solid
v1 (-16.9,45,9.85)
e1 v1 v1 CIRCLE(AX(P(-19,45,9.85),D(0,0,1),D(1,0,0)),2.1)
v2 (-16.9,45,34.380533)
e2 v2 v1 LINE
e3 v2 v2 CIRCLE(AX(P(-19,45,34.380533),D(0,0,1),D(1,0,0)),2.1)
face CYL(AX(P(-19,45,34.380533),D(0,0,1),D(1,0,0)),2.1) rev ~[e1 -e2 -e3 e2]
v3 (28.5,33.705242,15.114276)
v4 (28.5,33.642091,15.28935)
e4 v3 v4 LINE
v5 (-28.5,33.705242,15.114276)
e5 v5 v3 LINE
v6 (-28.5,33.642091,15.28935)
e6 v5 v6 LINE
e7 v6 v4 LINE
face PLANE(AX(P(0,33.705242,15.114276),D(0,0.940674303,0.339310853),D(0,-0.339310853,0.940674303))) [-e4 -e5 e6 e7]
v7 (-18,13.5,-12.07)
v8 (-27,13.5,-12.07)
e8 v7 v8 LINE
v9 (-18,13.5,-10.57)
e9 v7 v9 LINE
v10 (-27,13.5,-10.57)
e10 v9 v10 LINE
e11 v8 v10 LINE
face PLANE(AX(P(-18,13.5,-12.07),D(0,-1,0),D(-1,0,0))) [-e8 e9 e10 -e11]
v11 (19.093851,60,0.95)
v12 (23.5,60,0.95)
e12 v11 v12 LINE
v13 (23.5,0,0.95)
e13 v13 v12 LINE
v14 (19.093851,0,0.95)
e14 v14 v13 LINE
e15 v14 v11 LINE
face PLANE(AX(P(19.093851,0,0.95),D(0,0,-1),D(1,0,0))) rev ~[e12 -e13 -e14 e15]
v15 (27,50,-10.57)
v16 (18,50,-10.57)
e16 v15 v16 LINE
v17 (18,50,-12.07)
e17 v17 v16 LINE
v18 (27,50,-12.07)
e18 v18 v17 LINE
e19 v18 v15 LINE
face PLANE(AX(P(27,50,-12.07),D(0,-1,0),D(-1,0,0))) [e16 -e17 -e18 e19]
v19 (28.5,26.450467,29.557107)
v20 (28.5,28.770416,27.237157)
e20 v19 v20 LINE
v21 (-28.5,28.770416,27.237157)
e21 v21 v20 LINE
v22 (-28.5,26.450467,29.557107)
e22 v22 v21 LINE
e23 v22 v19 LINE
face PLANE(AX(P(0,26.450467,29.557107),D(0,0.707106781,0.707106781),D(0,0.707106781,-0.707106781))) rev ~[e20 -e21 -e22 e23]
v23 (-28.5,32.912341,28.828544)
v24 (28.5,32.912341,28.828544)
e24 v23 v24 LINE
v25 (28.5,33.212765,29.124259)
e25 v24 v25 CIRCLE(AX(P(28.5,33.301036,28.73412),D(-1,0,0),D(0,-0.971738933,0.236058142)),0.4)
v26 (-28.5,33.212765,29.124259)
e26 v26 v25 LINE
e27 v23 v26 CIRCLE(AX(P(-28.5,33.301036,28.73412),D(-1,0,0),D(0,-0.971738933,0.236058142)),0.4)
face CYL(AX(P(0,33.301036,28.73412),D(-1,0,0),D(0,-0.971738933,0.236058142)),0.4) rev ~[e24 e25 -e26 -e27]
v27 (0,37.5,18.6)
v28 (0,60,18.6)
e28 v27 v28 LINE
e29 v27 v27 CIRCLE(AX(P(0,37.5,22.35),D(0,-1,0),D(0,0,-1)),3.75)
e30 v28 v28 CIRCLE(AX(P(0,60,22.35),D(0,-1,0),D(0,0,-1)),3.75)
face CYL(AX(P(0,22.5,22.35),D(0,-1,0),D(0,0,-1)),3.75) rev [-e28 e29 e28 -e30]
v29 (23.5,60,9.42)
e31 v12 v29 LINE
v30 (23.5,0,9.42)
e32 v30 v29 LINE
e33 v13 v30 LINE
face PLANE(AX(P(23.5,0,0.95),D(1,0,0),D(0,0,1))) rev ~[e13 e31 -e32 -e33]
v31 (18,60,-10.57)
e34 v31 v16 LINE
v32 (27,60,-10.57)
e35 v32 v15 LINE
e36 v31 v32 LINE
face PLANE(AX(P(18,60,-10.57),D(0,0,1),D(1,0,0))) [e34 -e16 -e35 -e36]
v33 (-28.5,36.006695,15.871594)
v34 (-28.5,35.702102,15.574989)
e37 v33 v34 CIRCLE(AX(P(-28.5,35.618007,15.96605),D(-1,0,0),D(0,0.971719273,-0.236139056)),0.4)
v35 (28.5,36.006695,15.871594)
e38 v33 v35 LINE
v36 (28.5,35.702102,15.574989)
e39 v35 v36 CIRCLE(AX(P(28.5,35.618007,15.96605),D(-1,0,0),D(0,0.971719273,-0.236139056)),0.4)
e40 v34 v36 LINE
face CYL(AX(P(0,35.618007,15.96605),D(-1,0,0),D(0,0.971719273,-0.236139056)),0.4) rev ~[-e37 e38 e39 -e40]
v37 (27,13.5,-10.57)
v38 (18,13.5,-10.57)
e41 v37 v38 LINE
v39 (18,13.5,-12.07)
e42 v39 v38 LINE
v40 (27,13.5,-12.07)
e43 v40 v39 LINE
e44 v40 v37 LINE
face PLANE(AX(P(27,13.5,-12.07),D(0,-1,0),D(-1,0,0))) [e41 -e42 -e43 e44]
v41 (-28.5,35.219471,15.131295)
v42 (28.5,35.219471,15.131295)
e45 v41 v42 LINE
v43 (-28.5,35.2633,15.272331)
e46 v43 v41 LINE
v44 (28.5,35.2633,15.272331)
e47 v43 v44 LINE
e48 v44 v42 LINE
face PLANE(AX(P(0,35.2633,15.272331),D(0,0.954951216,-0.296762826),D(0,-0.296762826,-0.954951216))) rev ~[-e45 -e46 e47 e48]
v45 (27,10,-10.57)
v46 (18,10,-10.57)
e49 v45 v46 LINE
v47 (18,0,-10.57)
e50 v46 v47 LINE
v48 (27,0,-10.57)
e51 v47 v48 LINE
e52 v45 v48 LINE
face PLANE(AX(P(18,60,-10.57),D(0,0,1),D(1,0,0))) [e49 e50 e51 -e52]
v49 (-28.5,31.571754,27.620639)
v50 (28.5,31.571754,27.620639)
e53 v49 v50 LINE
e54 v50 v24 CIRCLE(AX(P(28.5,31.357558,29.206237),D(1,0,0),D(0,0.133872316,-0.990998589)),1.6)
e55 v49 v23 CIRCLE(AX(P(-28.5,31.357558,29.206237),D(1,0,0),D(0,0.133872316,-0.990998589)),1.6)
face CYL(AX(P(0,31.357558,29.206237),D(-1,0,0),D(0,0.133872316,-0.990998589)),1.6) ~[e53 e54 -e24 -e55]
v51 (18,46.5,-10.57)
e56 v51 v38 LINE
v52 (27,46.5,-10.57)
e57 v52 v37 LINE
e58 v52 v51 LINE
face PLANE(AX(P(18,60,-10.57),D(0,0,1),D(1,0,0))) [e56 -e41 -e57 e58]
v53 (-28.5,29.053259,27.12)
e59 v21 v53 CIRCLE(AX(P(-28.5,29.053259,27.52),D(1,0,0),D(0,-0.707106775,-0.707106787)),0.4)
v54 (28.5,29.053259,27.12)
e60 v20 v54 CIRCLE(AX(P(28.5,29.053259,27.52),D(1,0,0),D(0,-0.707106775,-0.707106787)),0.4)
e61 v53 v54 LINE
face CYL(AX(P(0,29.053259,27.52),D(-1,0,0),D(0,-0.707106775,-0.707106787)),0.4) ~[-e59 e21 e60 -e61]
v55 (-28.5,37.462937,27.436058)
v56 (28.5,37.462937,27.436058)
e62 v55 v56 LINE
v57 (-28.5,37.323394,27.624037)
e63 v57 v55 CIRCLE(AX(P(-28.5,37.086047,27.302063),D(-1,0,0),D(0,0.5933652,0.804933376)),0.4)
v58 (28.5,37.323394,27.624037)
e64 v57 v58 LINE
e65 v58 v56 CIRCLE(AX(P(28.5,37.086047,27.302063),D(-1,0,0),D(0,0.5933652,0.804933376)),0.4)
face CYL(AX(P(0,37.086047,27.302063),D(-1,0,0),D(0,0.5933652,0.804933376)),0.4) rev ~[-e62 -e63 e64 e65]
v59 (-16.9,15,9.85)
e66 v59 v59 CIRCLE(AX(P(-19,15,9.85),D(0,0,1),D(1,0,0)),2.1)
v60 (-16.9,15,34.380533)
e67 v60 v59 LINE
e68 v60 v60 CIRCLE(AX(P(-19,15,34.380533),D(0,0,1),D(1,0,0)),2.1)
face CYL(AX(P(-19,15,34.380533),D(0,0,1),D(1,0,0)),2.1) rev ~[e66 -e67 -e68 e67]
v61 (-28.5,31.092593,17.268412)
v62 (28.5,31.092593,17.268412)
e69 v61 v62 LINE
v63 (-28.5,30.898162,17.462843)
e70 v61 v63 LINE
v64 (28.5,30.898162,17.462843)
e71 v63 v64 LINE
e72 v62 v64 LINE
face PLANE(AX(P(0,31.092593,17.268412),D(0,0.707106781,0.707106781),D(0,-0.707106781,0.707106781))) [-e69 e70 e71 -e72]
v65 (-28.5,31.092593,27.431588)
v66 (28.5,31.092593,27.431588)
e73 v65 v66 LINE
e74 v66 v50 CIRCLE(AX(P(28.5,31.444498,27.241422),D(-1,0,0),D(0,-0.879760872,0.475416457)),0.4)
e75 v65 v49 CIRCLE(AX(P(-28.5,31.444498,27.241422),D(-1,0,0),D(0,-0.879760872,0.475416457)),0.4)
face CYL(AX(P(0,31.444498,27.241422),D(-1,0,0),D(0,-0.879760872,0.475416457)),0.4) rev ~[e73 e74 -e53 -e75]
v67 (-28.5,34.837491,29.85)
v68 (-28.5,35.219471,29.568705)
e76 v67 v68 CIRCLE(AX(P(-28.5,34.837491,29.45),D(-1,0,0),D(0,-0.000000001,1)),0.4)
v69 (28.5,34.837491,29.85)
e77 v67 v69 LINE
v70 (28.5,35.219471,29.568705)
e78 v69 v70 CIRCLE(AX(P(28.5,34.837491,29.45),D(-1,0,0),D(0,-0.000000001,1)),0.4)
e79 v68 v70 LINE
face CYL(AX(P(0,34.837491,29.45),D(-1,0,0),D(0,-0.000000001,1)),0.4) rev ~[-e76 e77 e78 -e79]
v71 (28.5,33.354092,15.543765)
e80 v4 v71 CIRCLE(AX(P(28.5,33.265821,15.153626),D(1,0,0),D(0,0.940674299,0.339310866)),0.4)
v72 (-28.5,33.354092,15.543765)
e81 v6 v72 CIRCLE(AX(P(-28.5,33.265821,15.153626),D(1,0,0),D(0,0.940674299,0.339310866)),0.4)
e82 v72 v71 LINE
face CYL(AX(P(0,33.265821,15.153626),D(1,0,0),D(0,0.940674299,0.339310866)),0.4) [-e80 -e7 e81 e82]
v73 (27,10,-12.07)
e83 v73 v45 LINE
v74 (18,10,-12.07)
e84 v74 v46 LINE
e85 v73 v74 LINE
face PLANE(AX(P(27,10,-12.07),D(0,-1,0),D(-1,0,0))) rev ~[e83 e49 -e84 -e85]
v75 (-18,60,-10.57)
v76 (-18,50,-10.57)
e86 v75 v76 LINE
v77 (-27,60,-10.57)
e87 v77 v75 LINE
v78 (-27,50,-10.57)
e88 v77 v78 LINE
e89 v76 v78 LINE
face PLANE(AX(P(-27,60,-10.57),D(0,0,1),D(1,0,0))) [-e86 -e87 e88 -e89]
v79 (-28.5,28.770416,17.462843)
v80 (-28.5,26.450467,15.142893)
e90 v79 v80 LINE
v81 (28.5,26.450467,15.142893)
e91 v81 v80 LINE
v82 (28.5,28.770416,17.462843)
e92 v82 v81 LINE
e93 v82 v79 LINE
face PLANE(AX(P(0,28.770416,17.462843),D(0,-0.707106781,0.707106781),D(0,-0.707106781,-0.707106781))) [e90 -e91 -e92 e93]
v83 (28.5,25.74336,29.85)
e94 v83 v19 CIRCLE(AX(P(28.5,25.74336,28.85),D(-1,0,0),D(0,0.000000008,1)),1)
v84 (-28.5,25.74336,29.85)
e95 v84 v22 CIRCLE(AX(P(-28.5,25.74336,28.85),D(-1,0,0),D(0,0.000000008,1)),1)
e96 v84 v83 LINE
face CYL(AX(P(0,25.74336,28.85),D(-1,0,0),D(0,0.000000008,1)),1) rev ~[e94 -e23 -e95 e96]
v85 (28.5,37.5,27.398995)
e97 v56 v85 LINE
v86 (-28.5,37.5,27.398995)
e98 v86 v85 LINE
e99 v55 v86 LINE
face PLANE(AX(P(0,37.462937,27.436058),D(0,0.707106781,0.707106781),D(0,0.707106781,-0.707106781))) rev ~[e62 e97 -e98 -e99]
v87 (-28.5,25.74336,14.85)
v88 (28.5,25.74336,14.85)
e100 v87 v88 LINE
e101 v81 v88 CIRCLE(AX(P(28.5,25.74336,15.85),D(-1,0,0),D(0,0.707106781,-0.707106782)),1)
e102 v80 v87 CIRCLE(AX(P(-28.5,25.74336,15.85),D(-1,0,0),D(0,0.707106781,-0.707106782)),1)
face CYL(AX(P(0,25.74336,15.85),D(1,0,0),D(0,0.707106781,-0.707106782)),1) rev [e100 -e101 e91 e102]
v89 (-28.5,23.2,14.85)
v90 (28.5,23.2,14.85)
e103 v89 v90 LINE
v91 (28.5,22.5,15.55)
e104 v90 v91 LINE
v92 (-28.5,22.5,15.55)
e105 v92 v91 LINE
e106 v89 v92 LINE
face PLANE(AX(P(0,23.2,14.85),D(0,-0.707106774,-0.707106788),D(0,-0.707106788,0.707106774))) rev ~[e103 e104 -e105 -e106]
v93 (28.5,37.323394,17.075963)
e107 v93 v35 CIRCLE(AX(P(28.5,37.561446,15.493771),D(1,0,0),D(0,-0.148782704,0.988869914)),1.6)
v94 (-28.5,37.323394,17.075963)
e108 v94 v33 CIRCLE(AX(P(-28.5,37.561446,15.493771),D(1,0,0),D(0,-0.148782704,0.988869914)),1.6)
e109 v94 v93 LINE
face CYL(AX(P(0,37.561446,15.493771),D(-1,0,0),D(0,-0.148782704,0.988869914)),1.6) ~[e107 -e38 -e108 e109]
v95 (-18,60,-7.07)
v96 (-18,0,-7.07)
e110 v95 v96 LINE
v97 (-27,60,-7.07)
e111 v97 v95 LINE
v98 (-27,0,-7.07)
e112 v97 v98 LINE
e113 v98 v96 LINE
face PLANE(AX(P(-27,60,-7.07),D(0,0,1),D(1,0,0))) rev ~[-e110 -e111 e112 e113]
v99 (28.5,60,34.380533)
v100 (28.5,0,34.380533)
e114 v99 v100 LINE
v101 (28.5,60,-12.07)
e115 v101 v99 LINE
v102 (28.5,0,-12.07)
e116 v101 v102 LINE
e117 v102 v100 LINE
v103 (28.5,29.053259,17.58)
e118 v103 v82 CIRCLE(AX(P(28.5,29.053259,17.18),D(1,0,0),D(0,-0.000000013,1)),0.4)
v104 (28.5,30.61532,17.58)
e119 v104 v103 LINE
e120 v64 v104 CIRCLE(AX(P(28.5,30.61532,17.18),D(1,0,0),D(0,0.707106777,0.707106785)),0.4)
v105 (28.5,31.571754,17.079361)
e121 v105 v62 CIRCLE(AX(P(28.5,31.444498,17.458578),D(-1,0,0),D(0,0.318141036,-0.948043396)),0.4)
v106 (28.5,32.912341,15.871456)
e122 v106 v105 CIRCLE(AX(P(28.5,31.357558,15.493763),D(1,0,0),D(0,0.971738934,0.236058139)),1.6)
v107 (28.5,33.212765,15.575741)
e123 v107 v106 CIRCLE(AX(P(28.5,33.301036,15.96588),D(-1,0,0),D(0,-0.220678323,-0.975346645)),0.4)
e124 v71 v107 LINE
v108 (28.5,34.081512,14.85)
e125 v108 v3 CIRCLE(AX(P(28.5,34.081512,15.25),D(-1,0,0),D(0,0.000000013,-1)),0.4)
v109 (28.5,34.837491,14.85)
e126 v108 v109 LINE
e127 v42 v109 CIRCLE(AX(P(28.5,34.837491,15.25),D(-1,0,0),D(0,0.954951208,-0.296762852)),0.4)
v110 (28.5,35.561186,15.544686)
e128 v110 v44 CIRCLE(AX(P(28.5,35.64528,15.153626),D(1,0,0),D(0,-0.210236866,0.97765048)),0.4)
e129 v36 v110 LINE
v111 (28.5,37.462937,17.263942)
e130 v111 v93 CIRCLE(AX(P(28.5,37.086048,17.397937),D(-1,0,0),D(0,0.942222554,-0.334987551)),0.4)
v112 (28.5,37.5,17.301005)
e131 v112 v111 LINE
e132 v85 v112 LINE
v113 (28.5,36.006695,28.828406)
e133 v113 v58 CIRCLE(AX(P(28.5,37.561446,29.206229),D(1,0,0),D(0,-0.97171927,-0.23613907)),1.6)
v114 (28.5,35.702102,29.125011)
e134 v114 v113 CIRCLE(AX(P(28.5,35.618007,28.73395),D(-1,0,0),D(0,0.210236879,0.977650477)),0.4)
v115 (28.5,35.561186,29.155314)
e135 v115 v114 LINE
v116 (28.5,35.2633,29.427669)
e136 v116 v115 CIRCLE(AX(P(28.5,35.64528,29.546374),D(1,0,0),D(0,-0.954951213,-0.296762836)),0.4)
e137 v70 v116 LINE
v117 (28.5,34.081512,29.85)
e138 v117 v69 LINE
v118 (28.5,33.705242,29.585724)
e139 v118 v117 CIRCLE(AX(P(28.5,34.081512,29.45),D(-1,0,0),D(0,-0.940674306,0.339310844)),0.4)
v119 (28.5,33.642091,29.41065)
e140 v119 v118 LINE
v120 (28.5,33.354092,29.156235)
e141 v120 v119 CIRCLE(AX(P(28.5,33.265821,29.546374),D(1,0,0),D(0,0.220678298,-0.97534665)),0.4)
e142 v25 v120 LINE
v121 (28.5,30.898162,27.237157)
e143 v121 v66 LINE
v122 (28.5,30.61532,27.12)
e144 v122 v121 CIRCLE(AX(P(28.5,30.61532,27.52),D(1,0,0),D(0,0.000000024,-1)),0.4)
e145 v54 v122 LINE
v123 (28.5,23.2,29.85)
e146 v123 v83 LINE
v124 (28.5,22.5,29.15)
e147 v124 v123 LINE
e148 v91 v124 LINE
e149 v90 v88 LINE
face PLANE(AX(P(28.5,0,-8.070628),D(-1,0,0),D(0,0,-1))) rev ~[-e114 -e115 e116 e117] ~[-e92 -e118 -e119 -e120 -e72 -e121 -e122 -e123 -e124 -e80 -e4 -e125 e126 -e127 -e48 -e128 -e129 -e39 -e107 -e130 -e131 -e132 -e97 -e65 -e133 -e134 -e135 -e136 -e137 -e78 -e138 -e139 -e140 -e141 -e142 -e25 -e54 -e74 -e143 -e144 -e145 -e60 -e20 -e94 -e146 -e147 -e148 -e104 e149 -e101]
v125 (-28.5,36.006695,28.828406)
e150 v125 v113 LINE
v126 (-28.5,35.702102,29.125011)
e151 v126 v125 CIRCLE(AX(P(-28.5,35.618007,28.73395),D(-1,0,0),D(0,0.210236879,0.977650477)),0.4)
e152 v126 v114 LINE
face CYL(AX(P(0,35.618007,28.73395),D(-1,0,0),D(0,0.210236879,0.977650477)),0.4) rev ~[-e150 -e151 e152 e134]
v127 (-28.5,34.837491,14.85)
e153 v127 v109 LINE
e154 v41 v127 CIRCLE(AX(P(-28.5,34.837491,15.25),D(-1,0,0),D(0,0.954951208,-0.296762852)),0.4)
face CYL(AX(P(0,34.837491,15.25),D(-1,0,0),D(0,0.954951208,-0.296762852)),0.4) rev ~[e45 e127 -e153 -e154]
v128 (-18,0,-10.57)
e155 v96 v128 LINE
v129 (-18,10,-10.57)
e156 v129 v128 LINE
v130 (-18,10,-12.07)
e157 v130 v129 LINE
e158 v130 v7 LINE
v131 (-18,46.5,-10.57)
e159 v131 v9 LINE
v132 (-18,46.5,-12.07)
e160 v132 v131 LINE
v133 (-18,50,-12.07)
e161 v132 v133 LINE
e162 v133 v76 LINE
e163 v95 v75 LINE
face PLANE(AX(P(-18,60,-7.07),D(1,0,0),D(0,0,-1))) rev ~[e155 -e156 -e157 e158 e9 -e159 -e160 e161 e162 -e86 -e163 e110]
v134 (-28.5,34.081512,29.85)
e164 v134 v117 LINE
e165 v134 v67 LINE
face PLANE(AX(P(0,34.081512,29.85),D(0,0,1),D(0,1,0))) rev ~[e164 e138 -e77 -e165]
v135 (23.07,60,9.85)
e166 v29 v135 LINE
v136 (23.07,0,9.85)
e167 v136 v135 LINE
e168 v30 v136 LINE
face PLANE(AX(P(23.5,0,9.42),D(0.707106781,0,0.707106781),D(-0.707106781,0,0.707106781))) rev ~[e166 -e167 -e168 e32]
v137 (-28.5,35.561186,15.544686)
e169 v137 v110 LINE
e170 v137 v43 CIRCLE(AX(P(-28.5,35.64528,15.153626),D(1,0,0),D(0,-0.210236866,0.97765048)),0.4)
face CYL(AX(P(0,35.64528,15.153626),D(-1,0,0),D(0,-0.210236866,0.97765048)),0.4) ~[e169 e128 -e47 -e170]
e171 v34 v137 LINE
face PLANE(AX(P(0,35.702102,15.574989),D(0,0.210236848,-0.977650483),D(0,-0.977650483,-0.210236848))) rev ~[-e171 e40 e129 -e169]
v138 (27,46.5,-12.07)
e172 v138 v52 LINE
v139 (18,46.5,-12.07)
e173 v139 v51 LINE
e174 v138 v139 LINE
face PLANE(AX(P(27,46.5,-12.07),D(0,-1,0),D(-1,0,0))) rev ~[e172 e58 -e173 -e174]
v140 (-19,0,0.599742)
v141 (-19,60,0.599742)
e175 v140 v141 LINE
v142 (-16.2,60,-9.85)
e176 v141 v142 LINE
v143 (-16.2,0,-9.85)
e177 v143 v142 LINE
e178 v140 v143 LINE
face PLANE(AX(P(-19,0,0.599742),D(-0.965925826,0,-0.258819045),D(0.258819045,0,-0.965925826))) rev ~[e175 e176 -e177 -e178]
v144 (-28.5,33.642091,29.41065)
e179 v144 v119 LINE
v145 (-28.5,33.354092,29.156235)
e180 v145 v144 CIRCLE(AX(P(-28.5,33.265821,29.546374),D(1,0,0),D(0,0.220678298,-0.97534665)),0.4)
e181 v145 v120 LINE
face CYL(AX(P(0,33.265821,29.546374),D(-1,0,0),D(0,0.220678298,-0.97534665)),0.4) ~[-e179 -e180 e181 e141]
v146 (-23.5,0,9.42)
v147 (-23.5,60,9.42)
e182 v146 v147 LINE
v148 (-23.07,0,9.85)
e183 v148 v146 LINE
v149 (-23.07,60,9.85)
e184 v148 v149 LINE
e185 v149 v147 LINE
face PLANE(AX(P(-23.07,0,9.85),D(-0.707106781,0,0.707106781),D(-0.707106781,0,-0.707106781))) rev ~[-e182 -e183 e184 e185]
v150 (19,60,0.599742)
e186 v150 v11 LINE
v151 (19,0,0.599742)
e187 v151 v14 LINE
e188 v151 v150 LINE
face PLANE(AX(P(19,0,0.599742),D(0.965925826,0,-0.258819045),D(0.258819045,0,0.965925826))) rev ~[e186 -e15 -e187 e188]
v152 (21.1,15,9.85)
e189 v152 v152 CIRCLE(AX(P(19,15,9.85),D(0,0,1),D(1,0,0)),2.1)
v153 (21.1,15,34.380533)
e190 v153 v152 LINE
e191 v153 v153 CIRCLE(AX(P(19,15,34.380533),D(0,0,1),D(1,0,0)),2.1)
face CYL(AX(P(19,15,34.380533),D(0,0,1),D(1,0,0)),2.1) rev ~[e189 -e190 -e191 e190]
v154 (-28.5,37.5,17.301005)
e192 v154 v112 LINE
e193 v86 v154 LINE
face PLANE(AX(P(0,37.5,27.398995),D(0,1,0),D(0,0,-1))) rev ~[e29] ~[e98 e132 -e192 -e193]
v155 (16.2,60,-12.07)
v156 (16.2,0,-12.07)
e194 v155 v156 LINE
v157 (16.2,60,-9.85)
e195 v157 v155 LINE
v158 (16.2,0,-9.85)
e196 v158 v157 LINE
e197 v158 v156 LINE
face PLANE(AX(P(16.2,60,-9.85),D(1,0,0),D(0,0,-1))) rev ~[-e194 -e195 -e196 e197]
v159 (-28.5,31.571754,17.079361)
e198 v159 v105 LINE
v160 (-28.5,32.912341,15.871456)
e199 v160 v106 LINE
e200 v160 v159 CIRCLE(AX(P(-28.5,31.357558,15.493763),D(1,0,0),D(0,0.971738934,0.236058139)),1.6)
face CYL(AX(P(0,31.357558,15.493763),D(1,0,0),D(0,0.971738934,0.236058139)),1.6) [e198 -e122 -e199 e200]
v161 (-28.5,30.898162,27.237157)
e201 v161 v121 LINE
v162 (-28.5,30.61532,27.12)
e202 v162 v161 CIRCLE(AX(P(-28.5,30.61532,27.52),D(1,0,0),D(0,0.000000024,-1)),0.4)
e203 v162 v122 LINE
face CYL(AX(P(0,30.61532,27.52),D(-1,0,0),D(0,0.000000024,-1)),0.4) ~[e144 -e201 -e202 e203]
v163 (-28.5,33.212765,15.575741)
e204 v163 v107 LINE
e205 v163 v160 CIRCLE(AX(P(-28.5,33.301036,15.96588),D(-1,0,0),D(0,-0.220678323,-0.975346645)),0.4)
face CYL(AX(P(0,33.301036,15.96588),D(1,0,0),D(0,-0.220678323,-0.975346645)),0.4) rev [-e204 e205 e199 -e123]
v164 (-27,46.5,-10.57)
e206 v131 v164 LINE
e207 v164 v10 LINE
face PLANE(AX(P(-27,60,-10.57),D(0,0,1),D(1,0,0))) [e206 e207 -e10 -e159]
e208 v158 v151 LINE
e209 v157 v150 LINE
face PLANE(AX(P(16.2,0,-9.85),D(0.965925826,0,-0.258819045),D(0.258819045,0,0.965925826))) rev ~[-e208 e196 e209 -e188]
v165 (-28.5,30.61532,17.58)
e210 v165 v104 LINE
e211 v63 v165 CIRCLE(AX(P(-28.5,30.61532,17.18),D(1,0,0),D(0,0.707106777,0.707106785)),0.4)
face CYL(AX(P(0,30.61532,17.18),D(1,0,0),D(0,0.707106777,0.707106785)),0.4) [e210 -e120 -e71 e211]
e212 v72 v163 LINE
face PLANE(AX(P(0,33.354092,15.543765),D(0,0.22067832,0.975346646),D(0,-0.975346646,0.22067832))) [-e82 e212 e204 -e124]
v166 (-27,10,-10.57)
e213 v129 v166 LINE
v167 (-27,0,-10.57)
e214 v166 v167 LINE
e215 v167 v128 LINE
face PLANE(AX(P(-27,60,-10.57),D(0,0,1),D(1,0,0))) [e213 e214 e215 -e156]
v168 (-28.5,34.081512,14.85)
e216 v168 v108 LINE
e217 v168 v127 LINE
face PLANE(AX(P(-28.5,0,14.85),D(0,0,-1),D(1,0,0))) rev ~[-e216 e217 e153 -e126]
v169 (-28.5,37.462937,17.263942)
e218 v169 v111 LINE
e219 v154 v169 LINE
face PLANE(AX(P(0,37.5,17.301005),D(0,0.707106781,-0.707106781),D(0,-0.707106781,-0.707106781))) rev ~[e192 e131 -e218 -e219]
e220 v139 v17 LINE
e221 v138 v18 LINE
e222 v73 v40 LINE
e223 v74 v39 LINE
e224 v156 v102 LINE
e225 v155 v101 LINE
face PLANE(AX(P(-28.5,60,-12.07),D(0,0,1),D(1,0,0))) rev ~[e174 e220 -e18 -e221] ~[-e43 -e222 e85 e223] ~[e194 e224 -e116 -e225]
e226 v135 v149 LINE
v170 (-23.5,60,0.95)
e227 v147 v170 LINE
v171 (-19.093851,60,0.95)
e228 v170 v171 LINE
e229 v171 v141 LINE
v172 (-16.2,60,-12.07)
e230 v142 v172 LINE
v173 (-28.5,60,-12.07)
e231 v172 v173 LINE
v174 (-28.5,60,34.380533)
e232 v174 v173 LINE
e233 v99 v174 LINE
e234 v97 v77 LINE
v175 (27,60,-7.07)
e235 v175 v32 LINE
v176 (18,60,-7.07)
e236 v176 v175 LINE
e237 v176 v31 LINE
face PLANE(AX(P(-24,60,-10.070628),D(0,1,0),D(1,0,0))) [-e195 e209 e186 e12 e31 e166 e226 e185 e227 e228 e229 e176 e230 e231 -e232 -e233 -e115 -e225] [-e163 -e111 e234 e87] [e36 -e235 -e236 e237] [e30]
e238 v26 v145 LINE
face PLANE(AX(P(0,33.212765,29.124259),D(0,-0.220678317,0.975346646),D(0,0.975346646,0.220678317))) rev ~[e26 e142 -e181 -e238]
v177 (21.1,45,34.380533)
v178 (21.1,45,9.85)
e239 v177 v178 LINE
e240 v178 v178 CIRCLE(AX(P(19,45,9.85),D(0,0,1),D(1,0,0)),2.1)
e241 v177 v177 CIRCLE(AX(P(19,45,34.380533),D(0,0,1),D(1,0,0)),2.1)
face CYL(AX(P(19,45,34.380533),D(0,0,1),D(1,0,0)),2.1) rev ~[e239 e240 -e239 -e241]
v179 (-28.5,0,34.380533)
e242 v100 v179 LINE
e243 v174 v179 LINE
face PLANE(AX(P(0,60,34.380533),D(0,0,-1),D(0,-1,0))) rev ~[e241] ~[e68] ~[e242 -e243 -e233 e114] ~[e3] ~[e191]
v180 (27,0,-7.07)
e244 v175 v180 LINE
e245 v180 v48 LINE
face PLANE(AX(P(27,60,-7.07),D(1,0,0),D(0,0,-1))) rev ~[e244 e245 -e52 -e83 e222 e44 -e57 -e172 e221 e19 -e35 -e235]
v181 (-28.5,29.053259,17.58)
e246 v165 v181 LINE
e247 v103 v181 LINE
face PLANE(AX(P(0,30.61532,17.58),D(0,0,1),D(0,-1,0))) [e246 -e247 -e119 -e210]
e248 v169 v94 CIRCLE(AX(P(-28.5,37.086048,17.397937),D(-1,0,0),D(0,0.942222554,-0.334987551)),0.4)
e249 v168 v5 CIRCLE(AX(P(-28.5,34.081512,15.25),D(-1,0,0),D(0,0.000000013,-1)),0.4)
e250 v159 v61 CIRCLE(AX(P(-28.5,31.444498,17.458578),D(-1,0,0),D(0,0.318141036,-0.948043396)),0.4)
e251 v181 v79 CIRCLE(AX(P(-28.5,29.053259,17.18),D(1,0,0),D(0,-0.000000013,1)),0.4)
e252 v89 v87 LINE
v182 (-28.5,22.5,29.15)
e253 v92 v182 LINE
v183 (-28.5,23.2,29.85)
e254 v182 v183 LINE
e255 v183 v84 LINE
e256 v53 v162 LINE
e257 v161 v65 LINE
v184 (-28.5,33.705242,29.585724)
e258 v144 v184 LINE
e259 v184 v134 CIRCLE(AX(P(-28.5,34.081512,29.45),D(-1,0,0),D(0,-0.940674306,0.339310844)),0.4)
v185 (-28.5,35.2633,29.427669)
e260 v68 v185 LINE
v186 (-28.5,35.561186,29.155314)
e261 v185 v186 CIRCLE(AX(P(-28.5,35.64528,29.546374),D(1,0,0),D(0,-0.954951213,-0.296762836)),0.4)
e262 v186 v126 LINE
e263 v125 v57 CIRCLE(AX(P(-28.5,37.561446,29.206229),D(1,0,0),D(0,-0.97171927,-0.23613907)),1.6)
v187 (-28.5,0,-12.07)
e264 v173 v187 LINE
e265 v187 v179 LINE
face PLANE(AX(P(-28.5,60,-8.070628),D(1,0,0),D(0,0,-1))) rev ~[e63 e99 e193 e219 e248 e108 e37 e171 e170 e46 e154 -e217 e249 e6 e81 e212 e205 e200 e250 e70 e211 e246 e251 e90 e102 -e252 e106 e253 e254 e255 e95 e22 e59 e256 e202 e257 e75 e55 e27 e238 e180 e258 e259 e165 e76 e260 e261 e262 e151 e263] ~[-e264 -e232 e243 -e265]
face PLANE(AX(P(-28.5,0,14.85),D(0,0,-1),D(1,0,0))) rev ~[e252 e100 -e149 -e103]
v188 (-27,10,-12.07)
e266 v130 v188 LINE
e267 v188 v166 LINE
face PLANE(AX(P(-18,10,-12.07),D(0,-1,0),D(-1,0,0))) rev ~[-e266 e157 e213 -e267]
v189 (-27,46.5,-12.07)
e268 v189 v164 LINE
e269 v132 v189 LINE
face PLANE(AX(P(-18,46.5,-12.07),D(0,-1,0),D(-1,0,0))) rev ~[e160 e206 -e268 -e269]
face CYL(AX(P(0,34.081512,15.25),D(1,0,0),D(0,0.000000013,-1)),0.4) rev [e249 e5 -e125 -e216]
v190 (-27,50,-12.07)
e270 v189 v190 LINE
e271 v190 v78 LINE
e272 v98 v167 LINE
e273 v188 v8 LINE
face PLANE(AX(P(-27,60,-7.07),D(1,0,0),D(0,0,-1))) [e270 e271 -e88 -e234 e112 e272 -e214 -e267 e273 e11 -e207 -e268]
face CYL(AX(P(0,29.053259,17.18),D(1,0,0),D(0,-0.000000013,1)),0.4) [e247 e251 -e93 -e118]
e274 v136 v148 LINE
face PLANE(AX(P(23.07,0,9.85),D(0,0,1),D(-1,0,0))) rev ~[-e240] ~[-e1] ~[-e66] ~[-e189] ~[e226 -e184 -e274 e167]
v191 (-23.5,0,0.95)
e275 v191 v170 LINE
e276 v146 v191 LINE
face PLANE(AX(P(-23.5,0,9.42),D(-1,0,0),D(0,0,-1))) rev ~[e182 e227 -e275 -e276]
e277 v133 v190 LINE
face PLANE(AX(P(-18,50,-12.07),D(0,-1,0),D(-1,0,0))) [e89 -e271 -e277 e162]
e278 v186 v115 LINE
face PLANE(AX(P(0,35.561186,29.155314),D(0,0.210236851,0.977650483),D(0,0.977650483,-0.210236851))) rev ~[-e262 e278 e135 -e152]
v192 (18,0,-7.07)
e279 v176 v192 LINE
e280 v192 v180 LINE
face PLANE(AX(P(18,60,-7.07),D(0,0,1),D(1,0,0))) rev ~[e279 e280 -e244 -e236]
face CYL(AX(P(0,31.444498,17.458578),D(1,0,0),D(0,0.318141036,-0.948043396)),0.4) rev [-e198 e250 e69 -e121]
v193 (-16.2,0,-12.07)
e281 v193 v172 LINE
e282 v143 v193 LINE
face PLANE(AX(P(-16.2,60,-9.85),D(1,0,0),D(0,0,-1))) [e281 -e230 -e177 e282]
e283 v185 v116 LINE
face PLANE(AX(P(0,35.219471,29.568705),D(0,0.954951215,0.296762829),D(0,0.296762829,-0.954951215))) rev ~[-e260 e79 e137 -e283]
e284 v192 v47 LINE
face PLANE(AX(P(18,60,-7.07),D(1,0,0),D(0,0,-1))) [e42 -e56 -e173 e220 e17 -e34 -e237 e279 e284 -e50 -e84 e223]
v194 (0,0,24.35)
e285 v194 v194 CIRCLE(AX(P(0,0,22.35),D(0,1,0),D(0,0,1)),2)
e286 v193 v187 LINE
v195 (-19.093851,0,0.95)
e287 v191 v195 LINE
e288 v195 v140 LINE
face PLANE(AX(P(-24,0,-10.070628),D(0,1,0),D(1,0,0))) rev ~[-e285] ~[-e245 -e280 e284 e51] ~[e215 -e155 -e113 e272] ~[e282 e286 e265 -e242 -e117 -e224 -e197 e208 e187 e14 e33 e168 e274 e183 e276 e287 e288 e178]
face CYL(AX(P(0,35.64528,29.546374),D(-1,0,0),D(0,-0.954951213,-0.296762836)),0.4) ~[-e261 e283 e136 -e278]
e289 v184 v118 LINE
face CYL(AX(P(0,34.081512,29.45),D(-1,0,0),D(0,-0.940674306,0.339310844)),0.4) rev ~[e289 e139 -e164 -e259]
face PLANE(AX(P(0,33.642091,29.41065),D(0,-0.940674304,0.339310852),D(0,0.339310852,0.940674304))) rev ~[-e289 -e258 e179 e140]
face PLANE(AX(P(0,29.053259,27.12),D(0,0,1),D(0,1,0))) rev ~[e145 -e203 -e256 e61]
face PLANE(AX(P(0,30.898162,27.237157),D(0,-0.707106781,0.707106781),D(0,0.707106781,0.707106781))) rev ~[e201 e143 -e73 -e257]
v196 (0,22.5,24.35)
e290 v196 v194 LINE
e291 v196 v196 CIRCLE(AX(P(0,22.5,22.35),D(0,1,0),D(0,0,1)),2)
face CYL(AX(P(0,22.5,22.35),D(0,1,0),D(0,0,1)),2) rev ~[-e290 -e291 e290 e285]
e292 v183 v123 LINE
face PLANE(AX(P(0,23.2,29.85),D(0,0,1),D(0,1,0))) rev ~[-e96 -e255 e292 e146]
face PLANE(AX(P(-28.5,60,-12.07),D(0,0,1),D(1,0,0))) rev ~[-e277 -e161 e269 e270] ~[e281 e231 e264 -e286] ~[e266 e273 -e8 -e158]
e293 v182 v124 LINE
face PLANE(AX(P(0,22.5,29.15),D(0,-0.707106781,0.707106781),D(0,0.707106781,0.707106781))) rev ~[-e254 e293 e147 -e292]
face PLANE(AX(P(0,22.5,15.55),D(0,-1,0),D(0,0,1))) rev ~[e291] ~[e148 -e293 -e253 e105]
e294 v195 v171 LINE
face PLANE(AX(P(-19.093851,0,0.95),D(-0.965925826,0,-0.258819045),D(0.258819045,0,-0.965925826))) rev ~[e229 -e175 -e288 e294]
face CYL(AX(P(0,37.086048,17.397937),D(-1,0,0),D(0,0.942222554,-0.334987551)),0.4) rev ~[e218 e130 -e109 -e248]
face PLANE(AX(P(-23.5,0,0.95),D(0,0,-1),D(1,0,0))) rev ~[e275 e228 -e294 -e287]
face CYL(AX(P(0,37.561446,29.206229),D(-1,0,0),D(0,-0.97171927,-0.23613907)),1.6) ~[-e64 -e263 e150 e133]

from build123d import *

# Parameters (mm, degrees)
SKETCH1_W           = 57
SKETCH1_H           = 28.7
BOSS_EXTRUDE1_DEPTH = 60
SKETCH2_W           = 9
SKETCH2_H           = 4
CUT_EXTRUDE1_DEPTH  = 69.064473112
BOSS_EXTRUDE2_DEPTH = 28.5
SKETCH6_W           = 15.5
SKETCH6_H           = 15.390476131
CUT_EXTRUDE2_DEPTH  = 80
BOSS_EXTRUDE5_DEPTH = 60
SKETCH10_R          = 2.1
CUT_EXTRUDE3_DEPTH  = 24.530533394
SKETCH11_W          = 61.984050455
SKETCH11_H          = 43.227353824
SKETCH11_W_2        = 6
SKETCH11_H_2        = 2.542732203
CUT_EXTRUDE4_DEPTH  = 77.839254789
SKETCH13_W          = 6.011053281
SKETCH13_H          = 2.620549071
CUT_EXTRUDE5_DEPTH  = 77.839254789
SKETCH14_W          = 9
SKETCH14_H          = 4
BOSS_EXTRUDE7_DEPTH = 60
SKETCH12_W          = 10.230058637
SKETCH12_H          = 6.686923691
BOSS_EXTRUDE6_DEPTH = 60
SKETCH15_W          = 9
SKETCH15_H          = 4
BOSS_EXTRUDE8_DEPTH = 60
SKETCH16_W          = 9
SKETCH16_H          = 1.78
CUT_EXTRUDE6_DEPTH  = 77.839254789
SKETCH17_W          = 25.75
SKETCH17_H          = 20.1006285
CUT_EXTRUDE7_DEPTH  = 77.839254789
SKETCH18_W          = 32.4
SKETCH18_H          = 12.613288226
CUT_EXTRUDE8_DEPTH  = 75.79485996
SKETCH19_W          = 57
SKETCH19_H          = 3.949842852
CUT_EXTRUDE9_DEPTH  = 75.79485996
SKETCH20_W          = 9
SKETCH20_H          = 3.5
CUT_EXTRUDE10_DEPTH = 75.79485996
SKETCH21_W          = 9
SKETCH21_H          = 3.5
CUT_EXTRUDE11_DEPTH = 1.5
SKETCH23_R          = 3.75
CUT_EXTRUDE12_DEPTH = 59.313986952
SKETCH24_R          = 2
CUT_EXTRUDE13_DEPTH = 59.313986952


with BuildPart() as part:
    # Sketch1 → Boss-Extrude1 (new body)
    with BuildSketch(Plane(origin=(0, 0, 0), x_dir=(1, 0, 0), z_dir=(0, 1, 0))):
        with Locations((0, -0.5)):
            Rectangle(SKETCH1_W, SKETCH1_H)
        Polygon((23.07, -9.85), (-23.07, -9.85), (-23.5, -9.42), (-23.5, -0.95), (-19.09385128, -0.95), (-19, -0.599742255), (-16.2, 9.85), (16.2, 9.85), (19, -0.599742255), (19.09385128, -0.95), (23.5, -0.95), (23.5, -2.9), (23.5, -9.42), align=None, mode=Mode.SUBTRACT)
    extrude(amount=BOSS_EXTRUDE1_DEPTH)

    # Sketch2 → Cut-Extrude1 (cut, through all)
    with BuildSketch(Plane.XZ):
        with Locations((24, -10.0706285)):
            Rectangle(SKETCH2_W, SKETCH2_H)
        with Locations((-24, -10.0706285)):
            Rectangle(SKETCH2_W, SKETCH2_H)
    extrude(amount=-CUT_EXTRUDE1_DEPTH, mode=Mode.SUBTRACT)

    # Sketch5 → Boss-Extrude2 (add, symmetric)
    with BuildSketch(Plane(origin=(0, 0, 0), x_dir=(0, 0, -1), z_dir=(1, 0, 0))):
        with BuildLine():
            Line((-14.85, 0), (-14.85, 23.200000017))
            Line((-14.85, 23.200000017), (-15.549999973, 22.50000003))
            Line((-15.549999973, 22.50000003), (-29.149999973, 22.50000003))
            Line((-29.149999973, 22.50000003), (-29.849999973, 23.20000003))
            Line((-29.849999973, 23.20000003), (-29.849999973, 25.743360053))
            ThreePointArc((-29.849999973, 25.743360053), (-29.773879502, 26.126043492), (-29.557106746, 26.450466847))
            Line((-29.557106746, 26.450466847), (-27.237157266, 28.770416328))
            ThreePointArc((-27.237157266, 28.770416328), (-27.150448162, 28.900185674), (-27.119999973, 29.053259055))
            Line((-27.119999973, 29.053259055), (-27.119999973, 30.615319642))
            ThreePointArc((-27.119999973, 30.615319642), (-27.150448164, 30.768393021), (-27.237157268, 30.898162365))
            Line((-27.237157268, 30.898162365), (-27.431588163, 31.09259326))
            ThreePointArc((-27.431588163, 31.09259326), (-27.613507965, 31.297692563), (-27.620638933, 31.57175403))
            ThreePointArc((-27.620638933, 31.57175403), (-28.017573243, 32.42857618), (-28.828543655, 32.91234062))
            ThreePointArc((-28.828543655, 32.91234062), (-29.01918836, 33.020436377), (-29.124259054, 33.212764861))
            Line((-29.124259054, 33.212764861), (-29.156235284, 33.354092333))
            ThreePointArc((-29.156235284, 33.354092333), (-29.24659278, 33.53064407), (-29.410649592, 33.642090719))
            Line((-29.410649592, 33.642090719), (-29.585724304, 33.70524196))
            ThreePointArc((-29.585724304, 33.70524196), (-29.777329878, 33.851609246), (-29.849999973, 34.081511694))
            Line((-29.849999973, 34.081511694), (-29.849999973, 34.837490602))
            ThreePointArc((-29.849999973, 34.837490602), (-29.772088513, 35.074680338), (-29.568705112, 35.219471078))
            Line((-29.568705112, 35.219471078), (-29.427668799, 35.263299846))
            ThreePointArc((-29.427668799, 35.263299846), (-29.25116358, 35.375371369), (-29.155313737, 35.561185593))
            Line((-29.155313737, 35.561185593), (-29.125010632, 35.702102112))
            ThreePointArc((-29.125010632, 35.702102112), (-29.020526118, 35.897067182), (-28.828406063, 36.006695082))
            ThreePointArc((-28.828406063, 36.006695082), (-28.025619489, 36.481556021), (-27.62403672, 37.32339358))
            ThreePointArc((-27.62403672, 37.32339358), (-27.540484938, 37.407225271), (-27.43605838, 37.46293655))
            Line((-27.43605838, 37.46293655), (-27.39899493, 37.5))
            Line((-27.39899493, 37.5), (-17.30100503, 37.5))
            Line((-17.30100503, 37.5), (-17.26394158, 37.46293655))
            ThreePointArc((-17.26394158, 37.46293655), (-17.159515017, 37.407225278), (-17.07596324, 37.32339358))
            ThreePointArc((-17.07596324, 37.32339358), (-16.674380468, 36.481556018), (-15.871593887, 36.006695079))
            ThreePointArc((-15.871593887, 36.006695079), (-15.679473839, 35.897067189), (-15.574989331, 35.702102127))
            Line((-15.574989331, 35.702102127), (-15.544686222, 35.561185587))
            ThreePointArc((-15.544686222, 35.561185587), (-15.448836377, 35.375371364), (-15.272331158, 35.263299843))
            Line((-15.272331158, 35.263299843), (-15.131294869, 35.219471083))
            ThreePointArc((-15.131294869, 35.219471083), (-14.927911462, 35.074680333), (-14.85, 34.837490586))
            Line((-14.85, 34.837490586), (-14.85, 60))
            Line((-14.85, 60), (-34.380533394, 60))
            Line((-34.380533394, 60), (-34.380533394, 0))
            Line((-34.380533394, 0), (-14.85, 0))
        make_face()
        with BuildLine():
            ThreePointArc((-15.142893227, 26.450466847), (-14.926120471, 26.126043492), (-14.85, 25.743360053))
            Line((-14.85, 25.743360053), (-14.85, 34.081511674))
            ThreePointArc((-14.85, 34.081511674), (-14.922670087, 33.851609245), (-15.114275644, 33.70524197))
            Line((-15.114275644, 33.70524197), (-15.289350386, 33.642090718))
            ThreePointArc((-15.289350386, 33.642090718), (-15.453407192, 33.53064407), (-15.543764688, 33.354092339))
            Line((-15.543764688, 33.354092339), (-15.57574092, 33.21276486))
            ThreePointArc((-15.57574092, 33.21276486), (-15.680811613, 33.020436377), (-15.871456319, 32.91234062))
            ThreePointArc((-15.871456319, 32.91234062), (-16.68242673, 32.42857618), (-17.07936104, 31.57175403))
            ThreePointArc((-17.07936104, 31.57175403), (-17.086492012, 31.297692565), (-17.26841181, 31.09259326))
            Line((-17.26841181, 31.09259326), (-17.462842708, 30.898162362))
            ThreePointArc((-17.462842708, 30.898162362), (-17.549551812, 30.768393016), (-17.58, 30.615319635))
            Line((-17.58, 30.615319635), (-17.58, 29.053259048))
            ThreePointArc((-17.58, 29.053259048), (-17.54955181, 28.900185669), (-17.462842705, 28.770416325))
            Line((-17.462842705, 28.770416325), (-15.142893227, 26.450466847))
        make_face()
    extrude(amount=BOSS_EXTRUDE2_DEPTH, both=True)

    # Sketch6 → Cut-Extrude2 (cut)
    with BuildSketch(Plane(origin=(0, 60, 0), x_dir=(1, 0, 0), z_dir=(0, 1, 0))):
        with Locations((0, 12.050145064)):
            Rectangle(SKETCH6_W, SKETCH6_H)
    extrude(amount=-CUT_EXTRUDE2_DEPTH, mode=Mode.SUBTRACT)

    # Sketch9 → Boss-Extrude5 (add)
    with BuildSketch(Plane(origin=(0, 60, 0), x_dir=(1, 0, 0), z_dir=(0, 1, 0))):
        Polygon((-19.5, 13.85), (-19.5, 29.1706285), (-28.5, 29.1706285), (-28.5, 26.1706285), (-33.5, 26.1706285), (-33.5, 32.1706285), (-14.5, 32.1706285), (-14.5, 13.85), align=None)
        Polygon((30.2, 12.85), (30.2, 28.735786438), (19.5, 28.735786438), (19.5, 13.85), (14.5, 13.85), (14.5, 32.1706285), (33.5, 32.1706285), (33.5, 12.85), align=None)
    extrude(amount=-BOSS_EXTRUDE5_DEPTH)

    # Sketch10 → Cut-Extrude3 (cut)
    with BuildSketch(Plane.XY.offset(34.380533394)):
        with Locations((19, 45)):
            Circle(SKETCH10_R)
        with Locations((19, 15)):
            Circle(SKETCH10_R)
        with Locations((-19, 15)):
            Circle(SKETCH10_R)
        with Locations((-19, 45)):
            Circle(SKETCH10_R)
    extrude(amount=-CUT_EXTRUDE3_DEPTH, mode=Mode.SUBTRACT)

    # Sketch11 → Cut-Extrude4 (cut, through all)
    with BuildSketch(Plane.XZ):
        with Locations((44.734239641, -35.463676912)):
            Rectangle(SKETCH11_W, SKETCH11_H)
        with Locations((32.2, -12.566438328)):
            Rectangle(SKETCH11_W_2, SKETCH11_H_2)
    extrude(amount=-CUT_EXTRUDE4_DEPTH, mode=Mode.SUBTRACT)


with BuildPart() as cut_extrude4_piece_1:
    # of the separate pieces the step leaves, piece 1, a body of its own (cut_extrude4_pieces)
    add(part.part.solids().sort_by_distance((-28.5, 23.200000017, 14.85))[0])

    # Sketch14 → Boss-Extrude7 (add, through all)
    with BuildSketch(Plane(origin=(0, 0, 0), x_dir=(-1, 0, 0), z_dir=(0, -1, 0))):
        with Locations((-24, 10.0706285)):
            Rectangle(SKETCH14_W, SKETCH14_H)
    extrude(amount=-BOSS_EXTRUDE7_DEPTH)

    # Sketch12 → Boss-Extrude6 (add, through all)
    with BuildSketch(Plane.XZ):
        with Locations((23.384970682, -10.506538155)):
            Rectangle(SKETCH12_W, SKETCH12_H)
    extrude(amount=-BOSS_EXTRUDE6_DEPTH)

    # Sketch15 → Boss-Extrude8 (add, through all)
    with BuildSketch(Plane(origin=(0, 60, 0), x_dir=(1, 0, 0), z_dir=(0, 1, 0))):
        with Locations((-24, 10.0706285)):
            Rectangle(SKETCH15_W, SKETCH15_H)
    extrude(amount=-BOSS_EXTRUDE8_DEPTH)

    # Sketch16 → Cut-Extrude6 (cut, through all)
    with BuildSketch(Plane(origin=(0, 60, 0), x_dir=(1, 0, 0), z_dir=(0, 1, 0))):
        with Locations((-24, 12.96)):
            Rectangle(SKETCH16_W, SKETCH16_H)
    extrude(amount=-CUT_EXTRUDE6_DEPTH, mode=Mode.SUBTRACT)

    # Sketch17 → Cut-Extrude7 (cut, through all)
    with BuildSketch(Plane(origin=(0, 60, 0), x_dir=(1, 0, 0), z_dir=(0, 1, 0))):
        with Locations((-20.625, 22.12031425)):
            Rectangle(SKETCH17_W, SKETCH17_H)
    extrude(amount=-CUT_EXTRUDE7_DEPTH, mode=Mode.SUBTRACT)

    # Sketch18 → Cut-Extrude8 (cut, through all)
    with BuildSketch(Plane(origin=(0, 60, 0), x_dir=(1, 0, 0), z_dir=(0, 1, 0))):
        with Locations((0, 16.156644113)):
            Rectangle(SKETCH18_W, SKETCH18_H)
    extrude(amount=-CUT_EXTRUDE8_DEPTH, mode=Mode.SUBTRACT)

    # Sketch19 → Cut-Extrude9 (cut, through all)
    with BuildSketch(Plane(origin=(0, 60, 0), x_dir=(1, 0, 0), z_dir=(0, 1, 0))):
        with Locations((0, 14.044921426)):
            Rectangle(SKETCH19_W, SKETCH19_H)
    extrude(amount=-CUT_EXTRUDE9_DEPTH, mode=Mode.SUBTRACT)

    # Sketch20 → Cut-Extrude10 (cut, through all)
    with BuildSketch(Plane(origin=(0, 60, 0), x_dir=(1, 0, 0), z_dir=(0, 1, 0))):
        with Locations((-22.5, 8.82)):
            Rectangle(SKETCH20_W, SKETCH20_H)
        with Locations((22.5, 8.82)):
            Rectangle(SKETCH20_W, SKETCH20_H)
    extrude(amount=-CUT_EXTRUDE10_DEPTH, mode=Mode.SUBTRACT)

    # Sketch21 → Cut-Extrude11 (cut)
    with BuildSketch(Plane(origin=(0, 0, -12.07), x_dir=(-1, 0, 0), z_dir=(0, 0, -1))):
        with Locations((-22.5, 48.25)):
            Rectangle(SKETCH21_W, SKETCH21_H)
        with Locations((22.5, 48.25)):
            Rectangle(SKETCH21_W, SKETCH21_H)
        with Locations((22.5, 11.75)):
            Rectangle(SKETCH21_W, SKETCH21_H)
        with Locations((-22.5, 11.75)):
            Rectangle(SKETCH21_W, SKETCH21_H)
    extrude(amount=-CUT_EXTRUDE11_DEPTH, mode=Mode.SUBTRACT)

    # Sketch23 → Cut-Extrude12 (cut, through all)
    with BuildSketch(Plane(origin=(0, 22.50000003, 0), x_dir=(1, 0, 0), z_dir=(0, 1, 0))):
        with Locations(Location((0, -22.349999973, 0), (0, 0, 90))):
            Circle(SKETCH23_R)
    extrude(amount=CUT_EXTRUDE12_DEPTH, mode=Mode.SUBTRACT)

    # Sketch24 → Cut-Extrude13 (cut, through all)
    with BuildSketch(Plane(origin=(0, 22.50000003, 0), x_dir=(1, 0, 0), z_dir=(0, 1, 0))):
        with Locations(Location((0, -22.349999973, 0), (0, 0, 270))):
            Circle(SKETCH24_R)
    extrude(amount=-CUT_EXTRUDE13_DEPTH, mode=Mode.SUBTRACT)


with BuildPart() as cut_extrude4_piece_2:
    # of the separate pieces the step leaves, piece 2, a body of its own (cut_extrude4_pieces)
    add(part.part.solids().sort_by_distance((33.5, 0, -13.85))[0])

    # Sketch13 → Cut-Extrude5 (cut, through all)
    with BuildSketch(Plane.XZ):
        with Locations((32.65361778, -14.054923964)):
            Rectangle(SKETCH13_W, SKETCH13_H)
    extrude(amount=-CUT_EXTRUDE5_DEPTH, mode=Mode.SUBTRACT)


solid = cut_extrude4_piece_1.part
